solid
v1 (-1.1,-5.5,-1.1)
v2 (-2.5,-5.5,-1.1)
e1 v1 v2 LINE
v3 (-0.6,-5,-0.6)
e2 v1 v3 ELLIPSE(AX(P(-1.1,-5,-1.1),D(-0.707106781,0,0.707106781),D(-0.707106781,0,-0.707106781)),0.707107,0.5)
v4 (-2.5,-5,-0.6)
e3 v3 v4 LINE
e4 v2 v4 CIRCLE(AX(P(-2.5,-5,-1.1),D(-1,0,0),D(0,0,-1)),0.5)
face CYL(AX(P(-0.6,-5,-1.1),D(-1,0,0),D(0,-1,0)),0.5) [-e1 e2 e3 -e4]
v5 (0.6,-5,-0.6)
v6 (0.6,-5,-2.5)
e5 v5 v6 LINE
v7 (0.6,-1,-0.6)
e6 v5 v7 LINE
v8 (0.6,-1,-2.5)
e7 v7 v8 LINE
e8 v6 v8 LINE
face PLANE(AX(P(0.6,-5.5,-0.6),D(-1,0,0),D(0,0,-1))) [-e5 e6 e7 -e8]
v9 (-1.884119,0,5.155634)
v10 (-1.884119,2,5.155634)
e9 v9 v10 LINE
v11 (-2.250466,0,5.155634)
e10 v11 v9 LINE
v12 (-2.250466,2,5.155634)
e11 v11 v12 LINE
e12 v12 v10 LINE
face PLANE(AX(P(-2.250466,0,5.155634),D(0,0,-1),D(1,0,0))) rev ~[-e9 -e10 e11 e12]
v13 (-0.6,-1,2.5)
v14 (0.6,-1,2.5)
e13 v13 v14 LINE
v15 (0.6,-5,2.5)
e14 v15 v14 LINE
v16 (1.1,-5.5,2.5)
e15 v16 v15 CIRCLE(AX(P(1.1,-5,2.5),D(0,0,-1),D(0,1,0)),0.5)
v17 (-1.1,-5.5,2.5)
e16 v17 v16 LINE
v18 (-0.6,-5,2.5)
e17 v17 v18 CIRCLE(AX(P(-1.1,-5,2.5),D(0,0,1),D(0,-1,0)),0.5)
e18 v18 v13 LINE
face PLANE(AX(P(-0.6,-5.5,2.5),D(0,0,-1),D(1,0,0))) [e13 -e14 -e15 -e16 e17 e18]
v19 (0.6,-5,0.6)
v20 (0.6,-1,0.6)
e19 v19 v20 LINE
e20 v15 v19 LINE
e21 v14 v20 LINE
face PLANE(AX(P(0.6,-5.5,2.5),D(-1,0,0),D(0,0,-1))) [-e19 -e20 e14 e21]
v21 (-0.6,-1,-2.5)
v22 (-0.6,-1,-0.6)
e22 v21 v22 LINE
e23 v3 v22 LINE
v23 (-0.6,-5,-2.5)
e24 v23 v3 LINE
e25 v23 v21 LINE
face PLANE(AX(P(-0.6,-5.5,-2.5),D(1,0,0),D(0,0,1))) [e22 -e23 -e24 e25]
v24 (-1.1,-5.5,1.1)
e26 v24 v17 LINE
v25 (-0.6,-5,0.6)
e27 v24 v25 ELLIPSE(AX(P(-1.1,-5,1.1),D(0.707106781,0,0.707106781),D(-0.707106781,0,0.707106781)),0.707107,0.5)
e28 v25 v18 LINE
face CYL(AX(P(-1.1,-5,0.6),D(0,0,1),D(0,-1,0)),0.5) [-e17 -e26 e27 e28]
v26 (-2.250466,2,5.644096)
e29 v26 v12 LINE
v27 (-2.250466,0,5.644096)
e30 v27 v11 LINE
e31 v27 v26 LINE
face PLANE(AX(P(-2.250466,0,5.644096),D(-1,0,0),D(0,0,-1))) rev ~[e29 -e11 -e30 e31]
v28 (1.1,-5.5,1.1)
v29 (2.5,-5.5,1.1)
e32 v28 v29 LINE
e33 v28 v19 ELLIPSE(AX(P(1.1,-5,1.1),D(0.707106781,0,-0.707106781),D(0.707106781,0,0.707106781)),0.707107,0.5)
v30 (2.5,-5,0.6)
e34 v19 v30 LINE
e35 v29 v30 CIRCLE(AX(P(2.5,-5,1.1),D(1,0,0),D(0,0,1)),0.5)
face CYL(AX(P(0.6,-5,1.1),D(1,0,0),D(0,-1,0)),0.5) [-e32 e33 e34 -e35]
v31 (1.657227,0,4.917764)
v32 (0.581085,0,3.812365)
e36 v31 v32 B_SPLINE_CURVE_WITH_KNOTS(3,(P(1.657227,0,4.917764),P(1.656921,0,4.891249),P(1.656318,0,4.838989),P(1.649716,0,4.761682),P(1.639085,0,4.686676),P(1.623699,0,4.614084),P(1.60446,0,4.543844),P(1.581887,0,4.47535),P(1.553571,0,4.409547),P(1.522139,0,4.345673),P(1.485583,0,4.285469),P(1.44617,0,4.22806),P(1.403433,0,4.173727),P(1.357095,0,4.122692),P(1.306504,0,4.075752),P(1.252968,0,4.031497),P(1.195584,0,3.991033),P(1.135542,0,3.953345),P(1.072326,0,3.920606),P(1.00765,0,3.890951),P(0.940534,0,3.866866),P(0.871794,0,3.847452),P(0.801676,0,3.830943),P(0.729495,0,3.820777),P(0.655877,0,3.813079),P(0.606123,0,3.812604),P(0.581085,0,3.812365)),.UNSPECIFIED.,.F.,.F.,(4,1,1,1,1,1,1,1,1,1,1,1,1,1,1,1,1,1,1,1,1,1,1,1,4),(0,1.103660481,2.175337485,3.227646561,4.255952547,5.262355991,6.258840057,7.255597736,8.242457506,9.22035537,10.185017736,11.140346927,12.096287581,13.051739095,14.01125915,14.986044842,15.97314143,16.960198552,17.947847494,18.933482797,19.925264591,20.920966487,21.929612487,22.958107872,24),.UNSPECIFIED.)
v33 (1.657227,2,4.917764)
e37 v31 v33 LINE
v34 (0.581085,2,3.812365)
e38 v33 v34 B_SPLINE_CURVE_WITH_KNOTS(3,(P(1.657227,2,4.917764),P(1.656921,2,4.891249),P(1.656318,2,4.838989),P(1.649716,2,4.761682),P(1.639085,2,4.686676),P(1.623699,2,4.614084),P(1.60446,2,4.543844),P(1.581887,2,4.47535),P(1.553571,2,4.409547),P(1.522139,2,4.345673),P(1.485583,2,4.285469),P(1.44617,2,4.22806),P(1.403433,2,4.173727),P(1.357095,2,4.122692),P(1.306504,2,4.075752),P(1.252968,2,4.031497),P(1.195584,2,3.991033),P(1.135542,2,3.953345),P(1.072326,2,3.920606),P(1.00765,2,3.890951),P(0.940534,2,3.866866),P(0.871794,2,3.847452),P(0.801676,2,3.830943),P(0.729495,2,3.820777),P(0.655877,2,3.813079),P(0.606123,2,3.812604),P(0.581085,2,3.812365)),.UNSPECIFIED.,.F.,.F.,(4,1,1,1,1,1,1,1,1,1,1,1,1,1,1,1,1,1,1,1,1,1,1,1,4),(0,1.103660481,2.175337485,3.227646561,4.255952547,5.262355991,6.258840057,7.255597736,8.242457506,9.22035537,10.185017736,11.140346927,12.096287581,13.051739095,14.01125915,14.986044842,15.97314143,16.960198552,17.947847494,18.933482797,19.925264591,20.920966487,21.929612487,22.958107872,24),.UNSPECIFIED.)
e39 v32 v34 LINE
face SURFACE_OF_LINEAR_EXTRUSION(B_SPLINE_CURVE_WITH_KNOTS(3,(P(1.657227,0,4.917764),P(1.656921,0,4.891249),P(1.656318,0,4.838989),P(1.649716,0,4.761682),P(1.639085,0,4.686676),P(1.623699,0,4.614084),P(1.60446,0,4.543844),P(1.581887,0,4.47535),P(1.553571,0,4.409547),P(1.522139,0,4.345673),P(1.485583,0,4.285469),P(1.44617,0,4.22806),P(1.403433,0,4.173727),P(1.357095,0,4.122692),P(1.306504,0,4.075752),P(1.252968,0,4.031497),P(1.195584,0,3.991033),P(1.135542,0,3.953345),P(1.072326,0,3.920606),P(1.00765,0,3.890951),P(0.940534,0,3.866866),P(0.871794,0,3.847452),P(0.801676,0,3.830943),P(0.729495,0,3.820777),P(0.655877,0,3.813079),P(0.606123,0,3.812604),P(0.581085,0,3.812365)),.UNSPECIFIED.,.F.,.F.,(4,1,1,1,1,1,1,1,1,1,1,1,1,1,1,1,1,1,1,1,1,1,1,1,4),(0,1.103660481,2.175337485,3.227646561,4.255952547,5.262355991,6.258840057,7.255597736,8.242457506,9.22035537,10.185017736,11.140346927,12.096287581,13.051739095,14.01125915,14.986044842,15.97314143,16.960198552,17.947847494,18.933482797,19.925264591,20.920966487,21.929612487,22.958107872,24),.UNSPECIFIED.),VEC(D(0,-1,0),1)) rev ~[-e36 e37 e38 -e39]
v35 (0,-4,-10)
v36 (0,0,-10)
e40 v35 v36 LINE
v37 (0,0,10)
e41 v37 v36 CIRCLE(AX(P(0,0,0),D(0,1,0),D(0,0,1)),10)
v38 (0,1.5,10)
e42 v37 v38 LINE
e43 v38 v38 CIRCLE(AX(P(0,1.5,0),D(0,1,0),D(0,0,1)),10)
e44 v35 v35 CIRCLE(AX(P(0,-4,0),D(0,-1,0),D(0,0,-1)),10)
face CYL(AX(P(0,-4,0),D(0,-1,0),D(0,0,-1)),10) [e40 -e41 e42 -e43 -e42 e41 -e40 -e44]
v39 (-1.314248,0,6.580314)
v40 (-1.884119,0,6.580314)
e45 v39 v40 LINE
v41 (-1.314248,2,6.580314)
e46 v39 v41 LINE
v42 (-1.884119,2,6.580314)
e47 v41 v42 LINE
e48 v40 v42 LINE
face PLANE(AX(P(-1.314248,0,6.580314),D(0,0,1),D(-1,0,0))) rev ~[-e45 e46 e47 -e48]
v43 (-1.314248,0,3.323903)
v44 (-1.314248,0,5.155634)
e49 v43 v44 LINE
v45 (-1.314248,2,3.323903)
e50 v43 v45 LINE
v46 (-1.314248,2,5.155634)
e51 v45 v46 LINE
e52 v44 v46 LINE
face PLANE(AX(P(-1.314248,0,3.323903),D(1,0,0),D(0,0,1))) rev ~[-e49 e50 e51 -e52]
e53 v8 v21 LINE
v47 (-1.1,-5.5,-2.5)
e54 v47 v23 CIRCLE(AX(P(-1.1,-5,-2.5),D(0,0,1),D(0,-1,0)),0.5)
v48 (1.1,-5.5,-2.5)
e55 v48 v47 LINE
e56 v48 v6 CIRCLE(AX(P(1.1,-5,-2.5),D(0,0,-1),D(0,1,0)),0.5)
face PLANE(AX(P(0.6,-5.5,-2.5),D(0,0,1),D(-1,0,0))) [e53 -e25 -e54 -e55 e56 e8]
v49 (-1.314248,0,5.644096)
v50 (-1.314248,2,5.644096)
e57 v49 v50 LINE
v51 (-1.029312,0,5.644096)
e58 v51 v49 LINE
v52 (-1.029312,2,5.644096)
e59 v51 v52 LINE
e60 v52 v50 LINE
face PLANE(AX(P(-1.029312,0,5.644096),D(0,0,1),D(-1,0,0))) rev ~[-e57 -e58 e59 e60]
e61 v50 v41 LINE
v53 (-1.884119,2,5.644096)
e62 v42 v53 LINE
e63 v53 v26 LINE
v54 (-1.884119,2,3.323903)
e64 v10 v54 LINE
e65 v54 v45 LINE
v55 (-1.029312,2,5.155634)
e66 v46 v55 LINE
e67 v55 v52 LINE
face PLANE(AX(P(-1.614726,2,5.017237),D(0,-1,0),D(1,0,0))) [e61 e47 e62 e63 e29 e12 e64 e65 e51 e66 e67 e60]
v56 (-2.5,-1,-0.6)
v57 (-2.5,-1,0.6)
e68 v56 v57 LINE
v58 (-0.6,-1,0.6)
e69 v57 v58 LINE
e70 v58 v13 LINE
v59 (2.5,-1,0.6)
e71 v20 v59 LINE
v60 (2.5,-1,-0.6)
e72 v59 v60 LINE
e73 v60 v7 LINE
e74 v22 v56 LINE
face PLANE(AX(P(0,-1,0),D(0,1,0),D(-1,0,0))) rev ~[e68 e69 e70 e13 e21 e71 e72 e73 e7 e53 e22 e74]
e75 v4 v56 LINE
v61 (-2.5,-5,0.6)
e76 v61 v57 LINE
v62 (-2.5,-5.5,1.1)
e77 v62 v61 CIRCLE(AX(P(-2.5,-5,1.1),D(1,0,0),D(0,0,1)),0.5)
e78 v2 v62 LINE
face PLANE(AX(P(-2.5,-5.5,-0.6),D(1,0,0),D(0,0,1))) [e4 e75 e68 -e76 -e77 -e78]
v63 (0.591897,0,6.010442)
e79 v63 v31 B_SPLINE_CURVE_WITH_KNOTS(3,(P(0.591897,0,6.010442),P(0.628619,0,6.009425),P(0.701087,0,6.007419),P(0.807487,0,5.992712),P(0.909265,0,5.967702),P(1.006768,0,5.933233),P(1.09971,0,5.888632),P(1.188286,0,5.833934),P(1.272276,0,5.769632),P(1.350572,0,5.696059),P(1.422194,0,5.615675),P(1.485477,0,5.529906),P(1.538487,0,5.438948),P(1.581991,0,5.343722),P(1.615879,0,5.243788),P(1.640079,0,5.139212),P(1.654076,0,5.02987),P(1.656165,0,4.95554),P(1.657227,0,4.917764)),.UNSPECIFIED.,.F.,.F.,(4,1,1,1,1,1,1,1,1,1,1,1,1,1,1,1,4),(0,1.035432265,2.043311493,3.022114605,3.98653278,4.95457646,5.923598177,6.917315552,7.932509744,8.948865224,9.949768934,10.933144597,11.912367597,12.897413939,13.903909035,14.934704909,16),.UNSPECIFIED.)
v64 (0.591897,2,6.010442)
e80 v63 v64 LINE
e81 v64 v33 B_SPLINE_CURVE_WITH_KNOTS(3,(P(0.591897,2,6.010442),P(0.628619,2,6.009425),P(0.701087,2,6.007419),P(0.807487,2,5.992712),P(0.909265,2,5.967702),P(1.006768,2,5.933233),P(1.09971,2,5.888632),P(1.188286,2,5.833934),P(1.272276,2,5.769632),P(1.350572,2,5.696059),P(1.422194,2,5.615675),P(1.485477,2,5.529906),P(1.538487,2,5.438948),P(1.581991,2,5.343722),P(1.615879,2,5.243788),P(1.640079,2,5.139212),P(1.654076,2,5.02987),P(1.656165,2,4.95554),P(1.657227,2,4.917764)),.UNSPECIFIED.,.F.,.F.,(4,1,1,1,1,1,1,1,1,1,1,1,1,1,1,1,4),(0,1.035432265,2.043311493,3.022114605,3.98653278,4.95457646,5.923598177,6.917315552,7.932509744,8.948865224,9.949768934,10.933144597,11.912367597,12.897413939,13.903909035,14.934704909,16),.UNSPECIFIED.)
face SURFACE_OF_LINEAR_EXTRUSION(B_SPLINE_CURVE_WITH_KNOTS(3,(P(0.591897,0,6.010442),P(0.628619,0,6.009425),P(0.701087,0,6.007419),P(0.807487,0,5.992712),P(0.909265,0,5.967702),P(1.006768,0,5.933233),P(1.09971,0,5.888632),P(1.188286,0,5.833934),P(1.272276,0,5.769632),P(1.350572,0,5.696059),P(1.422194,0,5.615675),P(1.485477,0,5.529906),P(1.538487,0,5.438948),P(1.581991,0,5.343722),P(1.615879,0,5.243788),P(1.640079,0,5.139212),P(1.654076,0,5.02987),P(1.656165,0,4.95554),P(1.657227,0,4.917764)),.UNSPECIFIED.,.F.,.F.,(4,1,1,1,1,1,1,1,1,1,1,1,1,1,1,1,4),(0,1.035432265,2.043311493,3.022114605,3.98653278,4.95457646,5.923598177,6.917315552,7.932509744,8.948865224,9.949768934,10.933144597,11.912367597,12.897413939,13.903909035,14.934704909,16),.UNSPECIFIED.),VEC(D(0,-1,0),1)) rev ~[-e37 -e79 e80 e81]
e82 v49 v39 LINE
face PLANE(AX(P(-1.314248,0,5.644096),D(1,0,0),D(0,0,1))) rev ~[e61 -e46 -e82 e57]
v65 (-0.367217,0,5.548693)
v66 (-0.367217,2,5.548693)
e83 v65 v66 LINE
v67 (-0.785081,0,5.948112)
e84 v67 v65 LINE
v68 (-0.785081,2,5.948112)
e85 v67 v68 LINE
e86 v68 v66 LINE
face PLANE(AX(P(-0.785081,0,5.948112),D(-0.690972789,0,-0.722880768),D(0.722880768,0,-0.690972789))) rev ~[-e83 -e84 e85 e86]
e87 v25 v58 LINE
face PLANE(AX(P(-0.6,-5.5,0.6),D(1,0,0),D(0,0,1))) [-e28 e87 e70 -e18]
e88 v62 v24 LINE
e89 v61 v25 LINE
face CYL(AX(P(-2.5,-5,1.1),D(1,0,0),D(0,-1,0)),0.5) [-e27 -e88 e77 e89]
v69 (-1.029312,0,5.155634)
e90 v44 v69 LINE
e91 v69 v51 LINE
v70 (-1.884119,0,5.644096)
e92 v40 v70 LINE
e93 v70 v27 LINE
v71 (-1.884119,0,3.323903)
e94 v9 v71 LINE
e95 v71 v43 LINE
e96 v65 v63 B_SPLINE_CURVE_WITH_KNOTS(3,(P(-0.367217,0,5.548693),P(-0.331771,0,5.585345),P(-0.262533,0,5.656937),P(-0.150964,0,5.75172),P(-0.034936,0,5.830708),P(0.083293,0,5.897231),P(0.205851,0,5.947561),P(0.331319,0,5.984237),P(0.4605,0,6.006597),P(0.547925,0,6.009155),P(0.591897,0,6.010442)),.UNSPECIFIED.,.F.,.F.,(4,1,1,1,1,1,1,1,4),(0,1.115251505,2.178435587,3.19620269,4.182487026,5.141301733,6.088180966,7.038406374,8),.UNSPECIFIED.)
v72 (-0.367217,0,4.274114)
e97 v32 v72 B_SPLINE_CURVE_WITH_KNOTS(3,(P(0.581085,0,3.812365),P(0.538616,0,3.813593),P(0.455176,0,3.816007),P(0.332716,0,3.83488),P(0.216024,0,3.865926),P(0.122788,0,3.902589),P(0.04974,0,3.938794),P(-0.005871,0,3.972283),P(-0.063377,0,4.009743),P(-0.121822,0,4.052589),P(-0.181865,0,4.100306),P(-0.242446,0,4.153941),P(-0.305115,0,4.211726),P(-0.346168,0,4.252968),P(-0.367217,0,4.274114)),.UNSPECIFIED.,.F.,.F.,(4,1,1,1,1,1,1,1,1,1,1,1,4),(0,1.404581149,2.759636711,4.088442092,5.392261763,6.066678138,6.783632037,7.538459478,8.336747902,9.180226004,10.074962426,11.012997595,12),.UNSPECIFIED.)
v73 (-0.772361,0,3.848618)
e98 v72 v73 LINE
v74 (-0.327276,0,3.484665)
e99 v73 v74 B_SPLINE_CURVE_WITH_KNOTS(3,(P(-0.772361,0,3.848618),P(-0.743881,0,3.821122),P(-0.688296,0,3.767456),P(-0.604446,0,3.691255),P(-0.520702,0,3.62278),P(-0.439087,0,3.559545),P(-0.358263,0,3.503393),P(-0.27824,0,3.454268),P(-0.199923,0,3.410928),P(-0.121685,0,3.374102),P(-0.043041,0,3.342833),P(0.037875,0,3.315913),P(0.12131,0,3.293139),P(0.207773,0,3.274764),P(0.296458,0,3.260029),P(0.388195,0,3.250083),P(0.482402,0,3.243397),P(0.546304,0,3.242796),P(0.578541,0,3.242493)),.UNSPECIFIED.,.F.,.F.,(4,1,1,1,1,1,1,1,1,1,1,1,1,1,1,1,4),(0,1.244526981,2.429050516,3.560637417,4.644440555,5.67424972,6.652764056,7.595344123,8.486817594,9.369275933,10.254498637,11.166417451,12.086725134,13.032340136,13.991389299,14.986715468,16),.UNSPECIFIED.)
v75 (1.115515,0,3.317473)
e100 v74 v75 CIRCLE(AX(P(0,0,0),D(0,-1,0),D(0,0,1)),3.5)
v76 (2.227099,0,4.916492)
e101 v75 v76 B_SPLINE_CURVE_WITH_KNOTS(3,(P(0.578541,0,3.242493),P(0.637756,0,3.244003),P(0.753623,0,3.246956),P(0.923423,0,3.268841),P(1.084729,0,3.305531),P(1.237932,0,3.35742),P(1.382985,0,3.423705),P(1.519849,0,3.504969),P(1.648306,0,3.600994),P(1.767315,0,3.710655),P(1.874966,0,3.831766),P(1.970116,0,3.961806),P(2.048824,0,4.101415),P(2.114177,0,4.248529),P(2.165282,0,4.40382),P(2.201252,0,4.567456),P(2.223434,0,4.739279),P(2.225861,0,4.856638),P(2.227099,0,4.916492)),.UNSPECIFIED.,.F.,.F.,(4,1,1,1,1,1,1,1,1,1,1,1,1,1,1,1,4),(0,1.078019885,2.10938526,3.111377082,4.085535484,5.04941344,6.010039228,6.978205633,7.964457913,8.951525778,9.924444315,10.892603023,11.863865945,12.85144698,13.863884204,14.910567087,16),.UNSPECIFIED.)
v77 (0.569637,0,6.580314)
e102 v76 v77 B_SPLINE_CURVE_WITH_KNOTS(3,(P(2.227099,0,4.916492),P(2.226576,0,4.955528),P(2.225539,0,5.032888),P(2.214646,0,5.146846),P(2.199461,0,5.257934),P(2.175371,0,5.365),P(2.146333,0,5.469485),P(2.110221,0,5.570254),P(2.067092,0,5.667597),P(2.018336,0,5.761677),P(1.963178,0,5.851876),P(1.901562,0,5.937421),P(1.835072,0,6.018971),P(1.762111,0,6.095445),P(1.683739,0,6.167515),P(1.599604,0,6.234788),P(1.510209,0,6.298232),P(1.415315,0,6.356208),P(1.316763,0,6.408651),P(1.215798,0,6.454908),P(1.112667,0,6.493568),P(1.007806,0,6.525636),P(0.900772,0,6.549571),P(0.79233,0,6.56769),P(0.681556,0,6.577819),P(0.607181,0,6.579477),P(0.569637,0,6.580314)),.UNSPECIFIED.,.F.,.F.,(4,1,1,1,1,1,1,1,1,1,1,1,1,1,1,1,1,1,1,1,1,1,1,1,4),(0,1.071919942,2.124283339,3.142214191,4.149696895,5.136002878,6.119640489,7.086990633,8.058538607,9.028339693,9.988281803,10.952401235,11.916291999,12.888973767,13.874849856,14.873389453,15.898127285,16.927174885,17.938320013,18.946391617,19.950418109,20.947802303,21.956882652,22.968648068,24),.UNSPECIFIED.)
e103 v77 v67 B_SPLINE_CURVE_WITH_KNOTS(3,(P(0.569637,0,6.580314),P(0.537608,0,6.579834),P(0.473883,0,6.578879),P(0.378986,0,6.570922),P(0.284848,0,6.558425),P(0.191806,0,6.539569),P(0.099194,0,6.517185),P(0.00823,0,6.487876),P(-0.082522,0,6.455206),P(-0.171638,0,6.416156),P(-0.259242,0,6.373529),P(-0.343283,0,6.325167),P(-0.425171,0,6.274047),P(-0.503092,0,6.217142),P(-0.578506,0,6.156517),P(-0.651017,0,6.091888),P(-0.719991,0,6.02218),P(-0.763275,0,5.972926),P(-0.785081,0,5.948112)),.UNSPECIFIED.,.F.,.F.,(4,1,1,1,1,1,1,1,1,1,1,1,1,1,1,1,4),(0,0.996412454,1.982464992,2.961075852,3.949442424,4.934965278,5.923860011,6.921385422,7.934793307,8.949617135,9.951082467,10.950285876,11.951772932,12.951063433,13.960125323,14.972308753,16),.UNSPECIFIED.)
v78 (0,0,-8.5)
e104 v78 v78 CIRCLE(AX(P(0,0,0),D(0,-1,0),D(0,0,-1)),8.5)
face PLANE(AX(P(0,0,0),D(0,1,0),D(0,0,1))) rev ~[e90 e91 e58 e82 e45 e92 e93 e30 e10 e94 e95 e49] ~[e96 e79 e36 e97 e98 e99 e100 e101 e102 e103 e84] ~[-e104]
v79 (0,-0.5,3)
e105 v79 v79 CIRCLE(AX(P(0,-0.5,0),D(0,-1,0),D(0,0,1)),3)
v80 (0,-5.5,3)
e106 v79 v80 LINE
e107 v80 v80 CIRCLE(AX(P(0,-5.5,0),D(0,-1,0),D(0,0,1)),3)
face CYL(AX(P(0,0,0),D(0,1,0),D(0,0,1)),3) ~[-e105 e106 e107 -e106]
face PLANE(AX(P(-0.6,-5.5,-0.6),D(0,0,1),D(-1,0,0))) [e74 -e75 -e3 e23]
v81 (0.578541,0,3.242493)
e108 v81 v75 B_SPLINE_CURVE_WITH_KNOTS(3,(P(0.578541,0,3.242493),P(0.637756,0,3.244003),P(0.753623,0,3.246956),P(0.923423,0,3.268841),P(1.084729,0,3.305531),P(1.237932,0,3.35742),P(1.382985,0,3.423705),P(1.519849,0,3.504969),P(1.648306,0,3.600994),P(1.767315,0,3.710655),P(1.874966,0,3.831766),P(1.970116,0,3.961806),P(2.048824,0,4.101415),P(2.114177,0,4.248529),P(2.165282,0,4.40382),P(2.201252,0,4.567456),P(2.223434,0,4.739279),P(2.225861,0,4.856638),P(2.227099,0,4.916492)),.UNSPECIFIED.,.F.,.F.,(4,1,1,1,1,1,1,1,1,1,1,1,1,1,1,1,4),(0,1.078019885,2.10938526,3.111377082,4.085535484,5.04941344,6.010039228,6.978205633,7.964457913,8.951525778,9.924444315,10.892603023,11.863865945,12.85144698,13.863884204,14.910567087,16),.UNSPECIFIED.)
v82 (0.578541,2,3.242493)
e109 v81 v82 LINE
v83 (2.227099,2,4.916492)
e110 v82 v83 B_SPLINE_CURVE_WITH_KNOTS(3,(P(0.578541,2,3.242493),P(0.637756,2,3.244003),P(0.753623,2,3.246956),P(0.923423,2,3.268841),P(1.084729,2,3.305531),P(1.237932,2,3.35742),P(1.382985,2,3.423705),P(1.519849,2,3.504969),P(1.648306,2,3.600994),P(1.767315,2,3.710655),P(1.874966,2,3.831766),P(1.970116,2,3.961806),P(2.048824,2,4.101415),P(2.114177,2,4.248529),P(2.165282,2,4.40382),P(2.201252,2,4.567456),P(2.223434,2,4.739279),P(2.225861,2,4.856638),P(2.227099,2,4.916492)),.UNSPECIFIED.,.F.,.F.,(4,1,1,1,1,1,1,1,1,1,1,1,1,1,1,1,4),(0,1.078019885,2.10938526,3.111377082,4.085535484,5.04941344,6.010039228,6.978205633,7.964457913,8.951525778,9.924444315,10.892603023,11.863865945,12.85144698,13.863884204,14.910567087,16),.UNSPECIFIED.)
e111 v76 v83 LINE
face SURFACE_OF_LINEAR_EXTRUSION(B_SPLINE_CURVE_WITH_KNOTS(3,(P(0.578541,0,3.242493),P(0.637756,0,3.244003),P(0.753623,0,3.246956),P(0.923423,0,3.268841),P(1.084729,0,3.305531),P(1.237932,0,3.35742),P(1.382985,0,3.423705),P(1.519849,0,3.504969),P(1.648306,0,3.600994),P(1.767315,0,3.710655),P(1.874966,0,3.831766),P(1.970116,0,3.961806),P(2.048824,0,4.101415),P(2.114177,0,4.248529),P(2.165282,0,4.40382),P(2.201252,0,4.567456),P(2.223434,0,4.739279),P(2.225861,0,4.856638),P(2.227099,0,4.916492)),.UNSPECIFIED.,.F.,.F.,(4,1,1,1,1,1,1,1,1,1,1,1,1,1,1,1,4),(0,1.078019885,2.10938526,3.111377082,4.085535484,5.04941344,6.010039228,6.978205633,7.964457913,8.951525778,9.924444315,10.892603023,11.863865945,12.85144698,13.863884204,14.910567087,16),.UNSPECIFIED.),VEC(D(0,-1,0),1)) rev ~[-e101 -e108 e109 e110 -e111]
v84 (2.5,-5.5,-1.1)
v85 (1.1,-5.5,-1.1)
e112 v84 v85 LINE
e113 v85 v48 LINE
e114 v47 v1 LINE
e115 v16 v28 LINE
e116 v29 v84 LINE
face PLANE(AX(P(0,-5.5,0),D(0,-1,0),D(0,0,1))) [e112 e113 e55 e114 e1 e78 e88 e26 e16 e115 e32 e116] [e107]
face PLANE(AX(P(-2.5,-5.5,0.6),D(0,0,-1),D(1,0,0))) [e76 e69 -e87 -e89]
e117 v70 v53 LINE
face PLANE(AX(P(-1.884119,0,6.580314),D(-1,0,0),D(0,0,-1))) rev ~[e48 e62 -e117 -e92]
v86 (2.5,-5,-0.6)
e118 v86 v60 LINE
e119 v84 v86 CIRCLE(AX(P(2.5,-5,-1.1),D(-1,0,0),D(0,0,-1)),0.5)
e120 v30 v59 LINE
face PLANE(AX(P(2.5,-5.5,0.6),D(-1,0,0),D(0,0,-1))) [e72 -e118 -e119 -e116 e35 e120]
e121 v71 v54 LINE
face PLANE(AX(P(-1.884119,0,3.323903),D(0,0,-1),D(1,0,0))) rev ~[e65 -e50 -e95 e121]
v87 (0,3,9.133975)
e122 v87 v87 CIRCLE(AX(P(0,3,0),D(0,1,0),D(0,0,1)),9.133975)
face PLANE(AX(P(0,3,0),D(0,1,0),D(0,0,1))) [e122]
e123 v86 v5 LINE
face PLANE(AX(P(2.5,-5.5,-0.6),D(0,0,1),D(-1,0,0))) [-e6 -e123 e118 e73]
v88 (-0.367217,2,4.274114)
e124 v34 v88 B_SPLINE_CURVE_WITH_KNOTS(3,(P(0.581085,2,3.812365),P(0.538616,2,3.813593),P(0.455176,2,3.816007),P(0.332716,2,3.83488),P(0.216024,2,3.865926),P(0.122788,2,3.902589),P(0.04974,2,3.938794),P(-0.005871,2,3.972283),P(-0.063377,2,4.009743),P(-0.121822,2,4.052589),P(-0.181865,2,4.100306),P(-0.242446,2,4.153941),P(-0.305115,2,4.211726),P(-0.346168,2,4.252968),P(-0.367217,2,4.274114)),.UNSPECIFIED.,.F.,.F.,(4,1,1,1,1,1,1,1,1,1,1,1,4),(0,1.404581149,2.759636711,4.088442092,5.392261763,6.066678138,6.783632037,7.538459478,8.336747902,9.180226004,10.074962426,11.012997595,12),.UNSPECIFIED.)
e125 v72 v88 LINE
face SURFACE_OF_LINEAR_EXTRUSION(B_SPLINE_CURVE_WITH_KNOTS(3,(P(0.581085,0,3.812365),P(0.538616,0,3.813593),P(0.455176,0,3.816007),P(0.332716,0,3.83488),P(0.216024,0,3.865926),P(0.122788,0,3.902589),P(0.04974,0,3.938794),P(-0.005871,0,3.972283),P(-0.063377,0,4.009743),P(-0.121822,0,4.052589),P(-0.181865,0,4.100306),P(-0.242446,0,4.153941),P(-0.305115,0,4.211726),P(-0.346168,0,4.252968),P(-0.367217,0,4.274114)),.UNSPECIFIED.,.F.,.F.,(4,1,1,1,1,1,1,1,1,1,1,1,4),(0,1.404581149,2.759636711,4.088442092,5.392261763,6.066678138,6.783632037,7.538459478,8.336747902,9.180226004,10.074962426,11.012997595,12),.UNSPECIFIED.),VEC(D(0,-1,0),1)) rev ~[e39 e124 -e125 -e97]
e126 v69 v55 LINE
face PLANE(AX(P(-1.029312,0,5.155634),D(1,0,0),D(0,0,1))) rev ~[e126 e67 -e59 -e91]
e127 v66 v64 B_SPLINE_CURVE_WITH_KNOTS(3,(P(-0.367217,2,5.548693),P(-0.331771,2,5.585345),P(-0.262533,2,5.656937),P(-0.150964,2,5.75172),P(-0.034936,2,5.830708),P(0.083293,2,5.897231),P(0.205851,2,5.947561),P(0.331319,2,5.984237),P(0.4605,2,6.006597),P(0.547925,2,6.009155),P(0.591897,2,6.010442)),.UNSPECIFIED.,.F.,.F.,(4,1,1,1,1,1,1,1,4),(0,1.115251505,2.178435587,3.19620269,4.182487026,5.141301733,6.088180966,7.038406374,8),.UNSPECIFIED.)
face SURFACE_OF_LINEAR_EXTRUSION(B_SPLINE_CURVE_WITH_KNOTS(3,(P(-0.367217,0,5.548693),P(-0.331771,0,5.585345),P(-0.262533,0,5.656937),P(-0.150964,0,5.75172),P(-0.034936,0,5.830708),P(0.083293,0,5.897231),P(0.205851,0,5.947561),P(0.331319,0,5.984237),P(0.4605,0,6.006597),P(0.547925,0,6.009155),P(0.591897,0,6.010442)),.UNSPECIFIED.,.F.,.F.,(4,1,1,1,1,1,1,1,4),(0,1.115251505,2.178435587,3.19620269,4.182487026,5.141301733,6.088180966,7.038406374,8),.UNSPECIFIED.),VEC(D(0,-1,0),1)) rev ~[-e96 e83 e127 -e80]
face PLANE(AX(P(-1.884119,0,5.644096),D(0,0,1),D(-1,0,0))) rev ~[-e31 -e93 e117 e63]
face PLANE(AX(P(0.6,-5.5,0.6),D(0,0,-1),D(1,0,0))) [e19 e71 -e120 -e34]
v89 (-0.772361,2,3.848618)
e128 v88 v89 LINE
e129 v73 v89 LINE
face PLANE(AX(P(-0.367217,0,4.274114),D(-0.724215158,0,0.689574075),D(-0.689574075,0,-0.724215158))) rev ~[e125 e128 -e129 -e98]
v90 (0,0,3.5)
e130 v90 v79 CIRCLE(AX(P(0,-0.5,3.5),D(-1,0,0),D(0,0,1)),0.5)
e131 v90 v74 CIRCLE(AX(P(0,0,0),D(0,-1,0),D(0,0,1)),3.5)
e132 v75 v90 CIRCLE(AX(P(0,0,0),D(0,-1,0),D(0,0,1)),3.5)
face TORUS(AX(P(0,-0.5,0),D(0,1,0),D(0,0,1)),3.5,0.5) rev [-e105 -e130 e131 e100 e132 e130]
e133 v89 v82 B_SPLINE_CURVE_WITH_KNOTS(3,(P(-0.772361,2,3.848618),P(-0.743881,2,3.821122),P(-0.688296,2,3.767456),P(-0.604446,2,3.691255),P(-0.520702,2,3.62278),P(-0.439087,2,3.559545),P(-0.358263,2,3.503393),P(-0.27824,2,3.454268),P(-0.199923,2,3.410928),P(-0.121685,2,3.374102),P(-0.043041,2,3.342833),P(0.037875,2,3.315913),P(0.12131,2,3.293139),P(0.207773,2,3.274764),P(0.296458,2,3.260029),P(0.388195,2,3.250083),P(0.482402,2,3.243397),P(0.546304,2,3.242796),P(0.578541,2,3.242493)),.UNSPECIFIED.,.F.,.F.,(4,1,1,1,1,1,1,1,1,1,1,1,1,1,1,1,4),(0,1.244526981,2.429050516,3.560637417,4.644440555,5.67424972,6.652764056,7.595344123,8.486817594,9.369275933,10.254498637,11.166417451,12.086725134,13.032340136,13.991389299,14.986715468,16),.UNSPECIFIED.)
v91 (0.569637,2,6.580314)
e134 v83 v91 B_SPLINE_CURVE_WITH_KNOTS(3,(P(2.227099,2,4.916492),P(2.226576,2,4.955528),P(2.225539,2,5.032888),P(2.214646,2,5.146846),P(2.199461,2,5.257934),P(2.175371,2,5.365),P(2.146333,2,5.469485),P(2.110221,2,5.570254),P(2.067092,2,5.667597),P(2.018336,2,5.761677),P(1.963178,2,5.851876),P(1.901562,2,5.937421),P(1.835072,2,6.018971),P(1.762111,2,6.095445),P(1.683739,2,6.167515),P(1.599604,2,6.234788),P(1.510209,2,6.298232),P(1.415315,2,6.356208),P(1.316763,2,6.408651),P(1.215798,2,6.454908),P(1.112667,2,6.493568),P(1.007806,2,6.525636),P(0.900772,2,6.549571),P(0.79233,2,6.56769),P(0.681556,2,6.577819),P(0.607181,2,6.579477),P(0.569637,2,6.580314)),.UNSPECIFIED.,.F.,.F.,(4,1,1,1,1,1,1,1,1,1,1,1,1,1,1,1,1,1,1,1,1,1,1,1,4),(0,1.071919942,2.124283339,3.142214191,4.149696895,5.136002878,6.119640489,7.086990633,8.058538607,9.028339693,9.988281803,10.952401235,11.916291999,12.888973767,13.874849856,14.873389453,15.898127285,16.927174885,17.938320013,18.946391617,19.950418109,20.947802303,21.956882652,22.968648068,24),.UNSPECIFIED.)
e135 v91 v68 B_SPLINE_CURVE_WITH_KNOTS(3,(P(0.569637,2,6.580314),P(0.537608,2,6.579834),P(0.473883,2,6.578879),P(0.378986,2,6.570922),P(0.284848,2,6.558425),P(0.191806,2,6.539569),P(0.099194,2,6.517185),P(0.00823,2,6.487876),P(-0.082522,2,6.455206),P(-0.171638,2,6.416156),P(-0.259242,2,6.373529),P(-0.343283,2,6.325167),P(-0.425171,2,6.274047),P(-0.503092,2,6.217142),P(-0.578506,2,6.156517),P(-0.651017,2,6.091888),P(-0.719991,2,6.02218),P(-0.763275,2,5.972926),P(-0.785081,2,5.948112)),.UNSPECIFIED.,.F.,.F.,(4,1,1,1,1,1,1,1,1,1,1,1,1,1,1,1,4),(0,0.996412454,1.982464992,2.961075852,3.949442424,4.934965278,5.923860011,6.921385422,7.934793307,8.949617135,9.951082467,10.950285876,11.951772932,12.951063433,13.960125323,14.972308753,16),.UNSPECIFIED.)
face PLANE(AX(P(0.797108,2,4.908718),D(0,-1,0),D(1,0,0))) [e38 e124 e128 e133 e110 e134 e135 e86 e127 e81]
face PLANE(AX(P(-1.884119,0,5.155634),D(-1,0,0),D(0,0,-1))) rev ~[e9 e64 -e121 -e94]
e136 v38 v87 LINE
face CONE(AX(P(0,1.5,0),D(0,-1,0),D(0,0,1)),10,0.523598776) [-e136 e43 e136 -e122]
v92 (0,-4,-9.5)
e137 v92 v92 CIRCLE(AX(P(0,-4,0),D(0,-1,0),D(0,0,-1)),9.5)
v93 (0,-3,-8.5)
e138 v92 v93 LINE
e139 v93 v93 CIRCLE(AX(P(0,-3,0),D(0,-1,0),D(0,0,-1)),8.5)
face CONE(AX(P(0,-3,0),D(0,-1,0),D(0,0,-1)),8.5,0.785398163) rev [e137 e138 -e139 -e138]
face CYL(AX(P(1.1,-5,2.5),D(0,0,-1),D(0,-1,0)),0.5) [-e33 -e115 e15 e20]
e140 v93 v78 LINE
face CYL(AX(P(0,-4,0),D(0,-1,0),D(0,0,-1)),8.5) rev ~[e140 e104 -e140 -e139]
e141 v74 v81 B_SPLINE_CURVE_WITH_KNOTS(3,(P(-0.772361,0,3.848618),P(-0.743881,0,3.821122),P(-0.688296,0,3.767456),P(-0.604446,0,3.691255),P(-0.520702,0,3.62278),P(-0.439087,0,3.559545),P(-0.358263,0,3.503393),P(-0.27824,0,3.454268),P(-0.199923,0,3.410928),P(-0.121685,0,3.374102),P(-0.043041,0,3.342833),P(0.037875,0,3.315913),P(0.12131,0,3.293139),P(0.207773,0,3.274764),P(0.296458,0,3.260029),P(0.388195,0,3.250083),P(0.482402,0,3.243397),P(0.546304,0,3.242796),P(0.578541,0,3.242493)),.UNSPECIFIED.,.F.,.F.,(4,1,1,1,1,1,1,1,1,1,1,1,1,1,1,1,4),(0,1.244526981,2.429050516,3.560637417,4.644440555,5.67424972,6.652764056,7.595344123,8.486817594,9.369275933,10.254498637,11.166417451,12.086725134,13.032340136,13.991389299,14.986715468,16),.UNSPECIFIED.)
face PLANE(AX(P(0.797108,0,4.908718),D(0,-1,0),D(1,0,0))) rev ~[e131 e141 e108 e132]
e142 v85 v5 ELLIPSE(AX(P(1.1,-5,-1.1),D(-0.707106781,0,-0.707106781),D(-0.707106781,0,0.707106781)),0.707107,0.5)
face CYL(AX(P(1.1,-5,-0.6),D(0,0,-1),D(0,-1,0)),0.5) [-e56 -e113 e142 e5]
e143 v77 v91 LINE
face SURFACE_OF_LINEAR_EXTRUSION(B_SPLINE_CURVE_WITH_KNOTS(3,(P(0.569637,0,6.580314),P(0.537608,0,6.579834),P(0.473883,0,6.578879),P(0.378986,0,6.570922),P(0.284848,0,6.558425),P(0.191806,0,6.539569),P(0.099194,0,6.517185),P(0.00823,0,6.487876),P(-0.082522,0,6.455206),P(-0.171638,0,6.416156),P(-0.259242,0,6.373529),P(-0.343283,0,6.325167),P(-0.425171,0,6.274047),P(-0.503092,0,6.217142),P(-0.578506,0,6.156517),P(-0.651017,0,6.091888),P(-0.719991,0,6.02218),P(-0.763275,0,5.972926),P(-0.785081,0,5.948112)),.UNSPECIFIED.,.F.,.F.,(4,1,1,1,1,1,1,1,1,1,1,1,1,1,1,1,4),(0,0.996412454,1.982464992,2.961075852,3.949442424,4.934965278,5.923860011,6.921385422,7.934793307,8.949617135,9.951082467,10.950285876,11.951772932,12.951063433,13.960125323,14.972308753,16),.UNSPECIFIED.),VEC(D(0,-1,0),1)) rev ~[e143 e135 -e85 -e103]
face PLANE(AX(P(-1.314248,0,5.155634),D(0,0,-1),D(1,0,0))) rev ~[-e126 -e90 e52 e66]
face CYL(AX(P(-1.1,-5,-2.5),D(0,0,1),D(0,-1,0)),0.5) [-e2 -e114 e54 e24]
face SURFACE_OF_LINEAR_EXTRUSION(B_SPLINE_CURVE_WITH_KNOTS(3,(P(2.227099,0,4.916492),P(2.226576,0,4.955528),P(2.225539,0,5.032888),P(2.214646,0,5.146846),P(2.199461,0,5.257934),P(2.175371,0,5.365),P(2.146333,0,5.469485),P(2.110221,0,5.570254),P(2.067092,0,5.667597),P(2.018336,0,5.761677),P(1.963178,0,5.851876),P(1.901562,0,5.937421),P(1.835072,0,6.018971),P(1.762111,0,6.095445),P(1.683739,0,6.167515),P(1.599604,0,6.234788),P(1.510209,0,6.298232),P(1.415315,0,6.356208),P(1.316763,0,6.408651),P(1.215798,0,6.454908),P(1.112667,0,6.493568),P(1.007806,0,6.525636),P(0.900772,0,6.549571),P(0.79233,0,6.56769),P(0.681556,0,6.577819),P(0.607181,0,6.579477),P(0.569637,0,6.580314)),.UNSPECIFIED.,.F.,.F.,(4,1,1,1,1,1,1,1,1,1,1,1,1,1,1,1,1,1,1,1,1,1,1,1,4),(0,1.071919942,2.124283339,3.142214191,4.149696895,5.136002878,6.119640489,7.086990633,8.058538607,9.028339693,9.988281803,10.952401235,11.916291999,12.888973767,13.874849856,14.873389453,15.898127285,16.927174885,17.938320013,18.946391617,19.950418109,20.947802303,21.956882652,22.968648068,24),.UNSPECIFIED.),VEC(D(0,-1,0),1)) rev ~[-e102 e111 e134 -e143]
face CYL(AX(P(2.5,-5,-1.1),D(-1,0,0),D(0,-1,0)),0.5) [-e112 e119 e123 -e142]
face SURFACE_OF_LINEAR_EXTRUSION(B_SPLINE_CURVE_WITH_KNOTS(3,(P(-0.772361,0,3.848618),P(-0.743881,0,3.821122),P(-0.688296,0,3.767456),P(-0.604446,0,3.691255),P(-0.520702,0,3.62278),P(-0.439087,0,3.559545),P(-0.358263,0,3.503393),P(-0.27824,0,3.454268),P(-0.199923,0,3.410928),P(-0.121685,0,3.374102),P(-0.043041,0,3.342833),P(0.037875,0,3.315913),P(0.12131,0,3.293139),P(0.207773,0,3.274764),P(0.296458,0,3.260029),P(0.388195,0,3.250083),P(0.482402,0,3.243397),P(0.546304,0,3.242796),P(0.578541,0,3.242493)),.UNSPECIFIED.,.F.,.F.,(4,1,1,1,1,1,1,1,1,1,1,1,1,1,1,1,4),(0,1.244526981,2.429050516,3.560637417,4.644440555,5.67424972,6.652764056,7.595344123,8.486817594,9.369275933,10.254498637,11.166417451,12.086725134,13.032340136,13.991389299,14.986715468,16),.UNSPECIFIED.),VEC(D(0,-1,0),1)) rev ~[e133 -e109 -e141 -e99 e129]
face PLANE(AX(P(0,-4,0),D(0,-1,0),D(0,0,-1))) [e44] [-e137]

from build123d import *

# Parameters (mm, degrees)
SKETCH1_R           = 10
BOSS_EXTRUDE1_DEPTH = 3
SKETCH2_R           = 3
BOSS_EXTRUDE2_DEPTH = 5.5
FILLET1_R           = 0.5
CUT_EXTRUDE1_DEPTH  = 4.5
CHAMFER1_SIZE       = 1.5
CHAMFER1_SIZE2      = 0.866025404
CUT_EXTRUDE2_DEPTH  = 2
BOSS_EXTRUDE3_START = 4
SKETCH5_R           = 10
SKETCH5_R_2         = 8.5
BOSS_EXTRUDE3_DEPTH = 4
CHAMFER2_SIZE       = 1
FILLET2_R           = 0.5


with BuildPart() as part:
    # Sketch1 → Boss-Extrude1 (new body)
    with BuildSketch(Plane(origin=(0, 0, 0), x_dir=(1, 0, 0), z_dir=(0, 1, 0))):
        with Locations(Location((0, 0, 0), (0, 0, 270))):
            Circle(SKETCH1_R)
    extrude(amount=BOSS_EXTRUDE1_DEPTH)

    # Sketch2 → Boss-Extrude2 (add)
    with BuildSketch(Plane.XZ):
        with Locations(Location((0, 0, 0), (0, 0, 90))):
            Circle(SKETCH2_R)
    extrude(amount=BOSS_EXTRUDE2_DEPTH)

    # Fillet1
    fillet1_edges = [part.edges().sort_by_distance(p)[0] for p in [
        (0, 0, -3),
    ]]
    fillet(fillet1_edges, radius=FILLET1_R)

    # Sketch3 → Cut-Extrude1 (cut)
    with BuildSketch(Plane.XZ.offset(5.5)):
        Polygon((0.6, 0.6), (2.5, 0.6), (2.5, -0.6), (0.6, -0.6), (0.6, -2.5), (-0.6, -2.5), (-0.6, -0.6), (-2.5, -0.6), (-2.5, 0.6), (-0.6, 0.6), (-0.6, 2.5), (0.6, 2.5), align=None)
    extrude(amount=-CUT_EXTRUDE1_DEPTH, mode=Mode.SUBTRACT)

    # Chamfer1
    chamfer1_edges = [part.edges().sort_by_distance(p)[0] for p in [
        (0, 3, -10),
    ]]
    chamfer1_side = [part.faces().sort_by_distance(p)[0] for p in [
        (0, 1.5, -10),
    ]]
    chamfer(chamfer1_edges, length=CHAMFER1_SIZE, length2=CHAMFER1_SIZE2, reference=chamfer1_side[0])

    # Sketch4 → Cut-Extrude2 (cut)
    with BuildSketch(Plane.XZ):
        with BuildLine():
            Line((-0.785080982, 5.948112159), (-0.3672174, 5.548693088))
            add(Edge.make_bspline(
                [(-0.3672174, 5.548693088), (-0.331770807, 5.585344925), (-0.262532505, 5.656937445), (-0.150963545, 5.751719632), (-0.034935889, 5.830707761), (0.083293377, 5.89723106), (0.205850855, 5.947560676), (0.331319446, 5.984236716), (0.460500303, 6.006596711), (0.547924939, 6.00915509), (0.591897183, 6.010441886)],
                knots=[0, 0, 0, 0, 1.115251505, 2.178435587, 3.19620269, 4.182487026, 5.141301733, 6.088180966, 7.038406374, 8, 8, 8, 8], degree=3))
            add(Edge.make_bspline(
                [(0.591897183, 6.010441886), (0.62861935, 6.009425272), (0.701086501, 6.007419097), (0.807487269, 5.992711853), (0.909265103, 5.967701544), (1.006768403, 5.933232705), (1.099710263, 5.888631858), (1.188285547, 5.833933521), (1.272275875, 5.769631699), (1.350571785, 5.696059092), (1.422194132, 5.615675491), (1.485477036, 5.529906379), (1.538486619, 5.438948251), (1.581990722, 5.343722262), (1.615878736, 5.24378766), (1.640079036, 5.139211724), (1.654075842, 5.029869914), (1.65616496, 4.955540165), (1.65722671, 4.917763601)],
                knots=[0, 0, 0, 0, 1.035432265, 2.043311493, 3.022114605, 3.98653278, 4.95457646, 5.923598177, 6.917315552, 7.932509744, 8.948865224, 9.949768934, 10.933144597, 11.912367597, 12.897413939, 13.903909035, 14.934704909, 16, 16, 16, 16], degree=3))
            add(Edge.make_bspline(
                [(1.65722671, 4.917763601), (1.656920726, 4.891249365), (1.656317624, 4.83898926), (1.64971561, 4.761682062), (1.639084809, 4.686675803), (1.623699408, 4.614084098), (1.604459812, 4.543844039), (1.581887385, 4.475349668), (1.553570607, 4.409547423), (1.522138557, 4.345673054), (1.485583444, 4.285469453), (1.446170289, 4.228060322), (1.403433158, 4.173727077), (1.357095239, 4.122691832), (1.306504383, 4.075752155), (1.252968178, 4.031496513), (1.195583542, 3.991032776), (1.135542498, 3.95334546), (1.072326368, 3.920606168), (1.007650353, 3.890950695), (0.940533833, 3.866866041), (0.871793993, 3.847451613), (0.801676484, 3.830942542), (0.729495493, 3.820777399), (0.655876737, 3.813079455), (0.606122815, 3.812604152), (0.581084883, 3.812364963)],
                knots=[0, 0, 0, 0, 1.103660481, 2.175337485, 3.227646561, 4.255952547, 5.262355991, 6.258840057, 7.255597736, 8.242457506, 9.22035537, 10.185017736, 11.140346927, 12.096287581, 13.051739095, 14.01125915, 14.986044842, 15.97314143, 16.960198552, 17.947847494, 18.933482797, 19.925264591, 20.920966487, 21.929612487, 22.958107872, 24, 24, 24, 24], degree=3))
            add(Edge.make_bspline(
                [(0.581084883, 3.812364963), (0.53861625, 3.813593381), (0.455176427, 3.816006904), (0.332716491, 3.834880308), (0.216024371, 3.865925989), (0.122787926, 3.902589134), (0.049739634, 3.938794467), (-0.005870951, 3.972282616), (-0.06337663, 4.009742788), (-0.121822283, 4.05258877), (-0.181865308, 4.100306392), (-0.242445806, 4.153940761), (-0.30511465, 4.211725773), (-0.346168388, 4.252968071), (-0.3672174, 4.274113761)],
                knots=[0, 0, 0, 0, 1.404581149, 2.759636711, 4.088442092, 5.392261763, 6.066678138, 6.783632037, 7.538459478, 8.336747902, 9.180226004, 10.074962426, 11.012997595, 12, 12, 12, 12], degree=3))
            Line((-0.3672174, 4.274113761), (-0.772360629, 3.848617968))
            add(Edge.make_bspline(
                [(-0.772360629, 3.848617968), (-0.743881241, 3.821122013), (-0.688295566, 3.767455788), (-0.604446117, 3.691254757), (-0.520702197, 3.62277966), (-0.439086883, 3.55954515), (-0.358263232, 3.503393403), (-0.278239814, 3.454268339), (-0.19992253, 3.410927515), (-0.121685097, 3.374101852), (-0.04304068, 3.342833039), (0.037875183, 3.315912643), (0.12130986, 3.293138957), (0.207772931, 3.274763583), (0.296457921, 3.260029014), (0.388194805, 3.250083265), (0.482401925, 3.243397069), (0.546304074, 3.242796259), (0.578540813, 3.242493168)],
                knots=[0, 0, 0, 0, 1.244526981, 2.429050516, 3.560637417, 4.644440555, 5.67424972, 6.652764056, 7.595344123, 8.486817594, 9.369275933, 10.254498637, 11.166417451, 12.086725134, 13.032340136, 13.991389299, 14.986715468, 16, 16, 16, 16], degree=3))
            add(Edge.make_bspline(
                [(0.578540813, 3.242493168), (0.63775571, 3.244002674), (0.753622802, 3.246956357), (0.923423006, 3.26884115), (1.084728641, 3.305530621), (1.237932135, 3.357419651), (1.382984771, 3.423705456), (1.519849442, 3.504968741), (1.648305552, 3.6009936), (1.767315427, 3.710654531), (1.874965524, 3.831765824), (1.970115743, 3.961806126), (2.048824007, 4.101414539), (2.114177176, 4.248528599), (2.165282494, 4.403819647), (2.201251974, 4.567455659), (2.223434089, 4.739278634), (2.225860844, 4.856637687), (2.227098505, 4.916491566)],
                knots=[0, 0, 0, 0, 1.078019885, 2.10938526, 3.111377082, 4.085535484, 5.04941344, 6.010039228, 6.978205633, 7.964457913, 8.951525778, 9.924444315, 10.892603023, 11.863865945, 12.85144698, 13.863884204, 14.910567087, 16, 16, 16, 16], degree=3))
            add(Edge.make_bspline(
                [(2.227098505, 4.916491566), (2.22657553, 4.955527754), (2.22553912, 5.03288794), (2.21464636, 5.146845761), (2.199461218, 5.257934252), (2.175371372, 5.364999947), (2.146333439, 5.469485219), (2.110220954, 5.570254434), (2.067091593, 5.667597213), (2.018335518, 5.761676514), (1.963178258, 5.851876016), (1.901561543, 5.937420765), (1.835071629, 6.018971149), (1.76211087, 6.095445251), (1.683739482, 6.16751453), (1.599603627, 6.234788426), (1.510209341, 6.298231725), (1.415314666, 6.356208377), (1.316763153, 6.408651341), (1.215797795, 6.454908275), (1.112666654, 6.493568419), (1.007805777, 6.525635583), (0.900772127, 6.549571453), (0.792329685, 6.567690134), (0.681555734, 6.577818593), (0.607180623, 6.579476687), (0.569636566, 6.580313681)],
                knots=[0, 0, 0, 0, 1.071919942, 2.124283339, 3.142214191, 4.149696895, 5.136002878, 6.119640489, 7.086990633, 8.058538607, 9.028339693, 9.988281803, 10.952401235, 11.916291999, 12.888973767, 13.874849856, 14.873389453, 15.898127285, 16.927174885, 17.938320013, 18.946391617, 19.950418109, 20.947802303, 21.956882652, 22.968648068, 24, 24, 24, 24], degree=3))
            add(Edge.make_bspline(
                [(0.569636566, 6.580313681), (0.537607636, 6.579833895), (0.473882787, 6.578879311), (0.378985793, 6.570921817), (0.284847742, 6.558424654), (0.191805675, 6.539569095), (0.099194061, 6.517185164), (0.00822992, 6.487876495), (-0.082521756, 6.455206459), (-0.171637662, 6.416156102), (-0.259242191, 6.37352911), (-0.343283069, 6.32516724), (-0.425171333, 6.274046627), (-0.503092391, 6.217141729), (-0.578505869, 6.156516593), (-0.651017426, 6.091888368), (-0.71999073, 6.022179512), (-0.763274545, 5.97292609), (-0.785080982, 5.948112159)],
                knots=[0, 0, 0, 0, 0.996412454, 1.982464992, 2.961075852, 3.949442424, 4.934965278, 5.923860011, 6.921385422, 7.934793307, 8.949617135, 9.951082467, 10.950285876, 11.951772932, 12.951063433, 13.960125323, 14.972308753, 16, 16, 16, 16], degree=3))
        make_face()
        Polygon((-1.314247649, 6.580313681), (-1.884119443, 6.580313681), (-1.884119443, 5.644095732), (-2.250465597, 5.644095732), (-2.250465597, 5.155634194), (-1.884119443, 5.155634194), (-1.884119443, 3.323903425), (-1.314247649, 3.323903425), (-1.314247649, 5.155634194), (-1.029311751, 5.155634194), (-1.029311751, 5.644095732), (-1.314247649, 5.644095732), align=None)
    extrude(amount=-CUT_EXTRUDE2_DEPTH, mode=Mode.SUBTRACT)

    # Sketch5 → Boss-Extrude3 (add)
    with BuildSketch(Plane.XZ.offset(BOSS_EXTRUDE3_START)):
        with Locations(Location((0, 0, 0), (0, 0, 270))):
            Circle(SKETCH5_R)
        with Locations(Location((0, 0, 0), (0, 0, 270))):
            Circle(SKETCH5_R_2, mode=Mode.SUBTRACT)
    extrude(amount=-BOSS_EXTRUDE3_DEPTH)

    # Chamfer2
    chamfer2_edges = [part.edges().sort_by_distance(p)[0] for p in [
        (0, -4, 8.5),
    ]]
    chamfer(chamfer2_edges, length=CHAMFER2_SIZE)

    # Fillet2
    fillet2_edges = [part.edges().sort_by_distance(p)[0] for p in [
        (1.55, -5.5, -0.6),
        (1.55, -5.5, 0.6),
        (0.6, -5.5, 1.55),
        (-0.6, -5.5, 1.55),
        (-1.55, -5.5, 0.6),
        (-1.55, -5.5, -0.6),
        (-0.6, -5.5, -1.55),
        (0.6, -5.5, -1.55),
    ]]
    fillet(fillet2_edges, radius=FILLET2_R)


solid = part.part
